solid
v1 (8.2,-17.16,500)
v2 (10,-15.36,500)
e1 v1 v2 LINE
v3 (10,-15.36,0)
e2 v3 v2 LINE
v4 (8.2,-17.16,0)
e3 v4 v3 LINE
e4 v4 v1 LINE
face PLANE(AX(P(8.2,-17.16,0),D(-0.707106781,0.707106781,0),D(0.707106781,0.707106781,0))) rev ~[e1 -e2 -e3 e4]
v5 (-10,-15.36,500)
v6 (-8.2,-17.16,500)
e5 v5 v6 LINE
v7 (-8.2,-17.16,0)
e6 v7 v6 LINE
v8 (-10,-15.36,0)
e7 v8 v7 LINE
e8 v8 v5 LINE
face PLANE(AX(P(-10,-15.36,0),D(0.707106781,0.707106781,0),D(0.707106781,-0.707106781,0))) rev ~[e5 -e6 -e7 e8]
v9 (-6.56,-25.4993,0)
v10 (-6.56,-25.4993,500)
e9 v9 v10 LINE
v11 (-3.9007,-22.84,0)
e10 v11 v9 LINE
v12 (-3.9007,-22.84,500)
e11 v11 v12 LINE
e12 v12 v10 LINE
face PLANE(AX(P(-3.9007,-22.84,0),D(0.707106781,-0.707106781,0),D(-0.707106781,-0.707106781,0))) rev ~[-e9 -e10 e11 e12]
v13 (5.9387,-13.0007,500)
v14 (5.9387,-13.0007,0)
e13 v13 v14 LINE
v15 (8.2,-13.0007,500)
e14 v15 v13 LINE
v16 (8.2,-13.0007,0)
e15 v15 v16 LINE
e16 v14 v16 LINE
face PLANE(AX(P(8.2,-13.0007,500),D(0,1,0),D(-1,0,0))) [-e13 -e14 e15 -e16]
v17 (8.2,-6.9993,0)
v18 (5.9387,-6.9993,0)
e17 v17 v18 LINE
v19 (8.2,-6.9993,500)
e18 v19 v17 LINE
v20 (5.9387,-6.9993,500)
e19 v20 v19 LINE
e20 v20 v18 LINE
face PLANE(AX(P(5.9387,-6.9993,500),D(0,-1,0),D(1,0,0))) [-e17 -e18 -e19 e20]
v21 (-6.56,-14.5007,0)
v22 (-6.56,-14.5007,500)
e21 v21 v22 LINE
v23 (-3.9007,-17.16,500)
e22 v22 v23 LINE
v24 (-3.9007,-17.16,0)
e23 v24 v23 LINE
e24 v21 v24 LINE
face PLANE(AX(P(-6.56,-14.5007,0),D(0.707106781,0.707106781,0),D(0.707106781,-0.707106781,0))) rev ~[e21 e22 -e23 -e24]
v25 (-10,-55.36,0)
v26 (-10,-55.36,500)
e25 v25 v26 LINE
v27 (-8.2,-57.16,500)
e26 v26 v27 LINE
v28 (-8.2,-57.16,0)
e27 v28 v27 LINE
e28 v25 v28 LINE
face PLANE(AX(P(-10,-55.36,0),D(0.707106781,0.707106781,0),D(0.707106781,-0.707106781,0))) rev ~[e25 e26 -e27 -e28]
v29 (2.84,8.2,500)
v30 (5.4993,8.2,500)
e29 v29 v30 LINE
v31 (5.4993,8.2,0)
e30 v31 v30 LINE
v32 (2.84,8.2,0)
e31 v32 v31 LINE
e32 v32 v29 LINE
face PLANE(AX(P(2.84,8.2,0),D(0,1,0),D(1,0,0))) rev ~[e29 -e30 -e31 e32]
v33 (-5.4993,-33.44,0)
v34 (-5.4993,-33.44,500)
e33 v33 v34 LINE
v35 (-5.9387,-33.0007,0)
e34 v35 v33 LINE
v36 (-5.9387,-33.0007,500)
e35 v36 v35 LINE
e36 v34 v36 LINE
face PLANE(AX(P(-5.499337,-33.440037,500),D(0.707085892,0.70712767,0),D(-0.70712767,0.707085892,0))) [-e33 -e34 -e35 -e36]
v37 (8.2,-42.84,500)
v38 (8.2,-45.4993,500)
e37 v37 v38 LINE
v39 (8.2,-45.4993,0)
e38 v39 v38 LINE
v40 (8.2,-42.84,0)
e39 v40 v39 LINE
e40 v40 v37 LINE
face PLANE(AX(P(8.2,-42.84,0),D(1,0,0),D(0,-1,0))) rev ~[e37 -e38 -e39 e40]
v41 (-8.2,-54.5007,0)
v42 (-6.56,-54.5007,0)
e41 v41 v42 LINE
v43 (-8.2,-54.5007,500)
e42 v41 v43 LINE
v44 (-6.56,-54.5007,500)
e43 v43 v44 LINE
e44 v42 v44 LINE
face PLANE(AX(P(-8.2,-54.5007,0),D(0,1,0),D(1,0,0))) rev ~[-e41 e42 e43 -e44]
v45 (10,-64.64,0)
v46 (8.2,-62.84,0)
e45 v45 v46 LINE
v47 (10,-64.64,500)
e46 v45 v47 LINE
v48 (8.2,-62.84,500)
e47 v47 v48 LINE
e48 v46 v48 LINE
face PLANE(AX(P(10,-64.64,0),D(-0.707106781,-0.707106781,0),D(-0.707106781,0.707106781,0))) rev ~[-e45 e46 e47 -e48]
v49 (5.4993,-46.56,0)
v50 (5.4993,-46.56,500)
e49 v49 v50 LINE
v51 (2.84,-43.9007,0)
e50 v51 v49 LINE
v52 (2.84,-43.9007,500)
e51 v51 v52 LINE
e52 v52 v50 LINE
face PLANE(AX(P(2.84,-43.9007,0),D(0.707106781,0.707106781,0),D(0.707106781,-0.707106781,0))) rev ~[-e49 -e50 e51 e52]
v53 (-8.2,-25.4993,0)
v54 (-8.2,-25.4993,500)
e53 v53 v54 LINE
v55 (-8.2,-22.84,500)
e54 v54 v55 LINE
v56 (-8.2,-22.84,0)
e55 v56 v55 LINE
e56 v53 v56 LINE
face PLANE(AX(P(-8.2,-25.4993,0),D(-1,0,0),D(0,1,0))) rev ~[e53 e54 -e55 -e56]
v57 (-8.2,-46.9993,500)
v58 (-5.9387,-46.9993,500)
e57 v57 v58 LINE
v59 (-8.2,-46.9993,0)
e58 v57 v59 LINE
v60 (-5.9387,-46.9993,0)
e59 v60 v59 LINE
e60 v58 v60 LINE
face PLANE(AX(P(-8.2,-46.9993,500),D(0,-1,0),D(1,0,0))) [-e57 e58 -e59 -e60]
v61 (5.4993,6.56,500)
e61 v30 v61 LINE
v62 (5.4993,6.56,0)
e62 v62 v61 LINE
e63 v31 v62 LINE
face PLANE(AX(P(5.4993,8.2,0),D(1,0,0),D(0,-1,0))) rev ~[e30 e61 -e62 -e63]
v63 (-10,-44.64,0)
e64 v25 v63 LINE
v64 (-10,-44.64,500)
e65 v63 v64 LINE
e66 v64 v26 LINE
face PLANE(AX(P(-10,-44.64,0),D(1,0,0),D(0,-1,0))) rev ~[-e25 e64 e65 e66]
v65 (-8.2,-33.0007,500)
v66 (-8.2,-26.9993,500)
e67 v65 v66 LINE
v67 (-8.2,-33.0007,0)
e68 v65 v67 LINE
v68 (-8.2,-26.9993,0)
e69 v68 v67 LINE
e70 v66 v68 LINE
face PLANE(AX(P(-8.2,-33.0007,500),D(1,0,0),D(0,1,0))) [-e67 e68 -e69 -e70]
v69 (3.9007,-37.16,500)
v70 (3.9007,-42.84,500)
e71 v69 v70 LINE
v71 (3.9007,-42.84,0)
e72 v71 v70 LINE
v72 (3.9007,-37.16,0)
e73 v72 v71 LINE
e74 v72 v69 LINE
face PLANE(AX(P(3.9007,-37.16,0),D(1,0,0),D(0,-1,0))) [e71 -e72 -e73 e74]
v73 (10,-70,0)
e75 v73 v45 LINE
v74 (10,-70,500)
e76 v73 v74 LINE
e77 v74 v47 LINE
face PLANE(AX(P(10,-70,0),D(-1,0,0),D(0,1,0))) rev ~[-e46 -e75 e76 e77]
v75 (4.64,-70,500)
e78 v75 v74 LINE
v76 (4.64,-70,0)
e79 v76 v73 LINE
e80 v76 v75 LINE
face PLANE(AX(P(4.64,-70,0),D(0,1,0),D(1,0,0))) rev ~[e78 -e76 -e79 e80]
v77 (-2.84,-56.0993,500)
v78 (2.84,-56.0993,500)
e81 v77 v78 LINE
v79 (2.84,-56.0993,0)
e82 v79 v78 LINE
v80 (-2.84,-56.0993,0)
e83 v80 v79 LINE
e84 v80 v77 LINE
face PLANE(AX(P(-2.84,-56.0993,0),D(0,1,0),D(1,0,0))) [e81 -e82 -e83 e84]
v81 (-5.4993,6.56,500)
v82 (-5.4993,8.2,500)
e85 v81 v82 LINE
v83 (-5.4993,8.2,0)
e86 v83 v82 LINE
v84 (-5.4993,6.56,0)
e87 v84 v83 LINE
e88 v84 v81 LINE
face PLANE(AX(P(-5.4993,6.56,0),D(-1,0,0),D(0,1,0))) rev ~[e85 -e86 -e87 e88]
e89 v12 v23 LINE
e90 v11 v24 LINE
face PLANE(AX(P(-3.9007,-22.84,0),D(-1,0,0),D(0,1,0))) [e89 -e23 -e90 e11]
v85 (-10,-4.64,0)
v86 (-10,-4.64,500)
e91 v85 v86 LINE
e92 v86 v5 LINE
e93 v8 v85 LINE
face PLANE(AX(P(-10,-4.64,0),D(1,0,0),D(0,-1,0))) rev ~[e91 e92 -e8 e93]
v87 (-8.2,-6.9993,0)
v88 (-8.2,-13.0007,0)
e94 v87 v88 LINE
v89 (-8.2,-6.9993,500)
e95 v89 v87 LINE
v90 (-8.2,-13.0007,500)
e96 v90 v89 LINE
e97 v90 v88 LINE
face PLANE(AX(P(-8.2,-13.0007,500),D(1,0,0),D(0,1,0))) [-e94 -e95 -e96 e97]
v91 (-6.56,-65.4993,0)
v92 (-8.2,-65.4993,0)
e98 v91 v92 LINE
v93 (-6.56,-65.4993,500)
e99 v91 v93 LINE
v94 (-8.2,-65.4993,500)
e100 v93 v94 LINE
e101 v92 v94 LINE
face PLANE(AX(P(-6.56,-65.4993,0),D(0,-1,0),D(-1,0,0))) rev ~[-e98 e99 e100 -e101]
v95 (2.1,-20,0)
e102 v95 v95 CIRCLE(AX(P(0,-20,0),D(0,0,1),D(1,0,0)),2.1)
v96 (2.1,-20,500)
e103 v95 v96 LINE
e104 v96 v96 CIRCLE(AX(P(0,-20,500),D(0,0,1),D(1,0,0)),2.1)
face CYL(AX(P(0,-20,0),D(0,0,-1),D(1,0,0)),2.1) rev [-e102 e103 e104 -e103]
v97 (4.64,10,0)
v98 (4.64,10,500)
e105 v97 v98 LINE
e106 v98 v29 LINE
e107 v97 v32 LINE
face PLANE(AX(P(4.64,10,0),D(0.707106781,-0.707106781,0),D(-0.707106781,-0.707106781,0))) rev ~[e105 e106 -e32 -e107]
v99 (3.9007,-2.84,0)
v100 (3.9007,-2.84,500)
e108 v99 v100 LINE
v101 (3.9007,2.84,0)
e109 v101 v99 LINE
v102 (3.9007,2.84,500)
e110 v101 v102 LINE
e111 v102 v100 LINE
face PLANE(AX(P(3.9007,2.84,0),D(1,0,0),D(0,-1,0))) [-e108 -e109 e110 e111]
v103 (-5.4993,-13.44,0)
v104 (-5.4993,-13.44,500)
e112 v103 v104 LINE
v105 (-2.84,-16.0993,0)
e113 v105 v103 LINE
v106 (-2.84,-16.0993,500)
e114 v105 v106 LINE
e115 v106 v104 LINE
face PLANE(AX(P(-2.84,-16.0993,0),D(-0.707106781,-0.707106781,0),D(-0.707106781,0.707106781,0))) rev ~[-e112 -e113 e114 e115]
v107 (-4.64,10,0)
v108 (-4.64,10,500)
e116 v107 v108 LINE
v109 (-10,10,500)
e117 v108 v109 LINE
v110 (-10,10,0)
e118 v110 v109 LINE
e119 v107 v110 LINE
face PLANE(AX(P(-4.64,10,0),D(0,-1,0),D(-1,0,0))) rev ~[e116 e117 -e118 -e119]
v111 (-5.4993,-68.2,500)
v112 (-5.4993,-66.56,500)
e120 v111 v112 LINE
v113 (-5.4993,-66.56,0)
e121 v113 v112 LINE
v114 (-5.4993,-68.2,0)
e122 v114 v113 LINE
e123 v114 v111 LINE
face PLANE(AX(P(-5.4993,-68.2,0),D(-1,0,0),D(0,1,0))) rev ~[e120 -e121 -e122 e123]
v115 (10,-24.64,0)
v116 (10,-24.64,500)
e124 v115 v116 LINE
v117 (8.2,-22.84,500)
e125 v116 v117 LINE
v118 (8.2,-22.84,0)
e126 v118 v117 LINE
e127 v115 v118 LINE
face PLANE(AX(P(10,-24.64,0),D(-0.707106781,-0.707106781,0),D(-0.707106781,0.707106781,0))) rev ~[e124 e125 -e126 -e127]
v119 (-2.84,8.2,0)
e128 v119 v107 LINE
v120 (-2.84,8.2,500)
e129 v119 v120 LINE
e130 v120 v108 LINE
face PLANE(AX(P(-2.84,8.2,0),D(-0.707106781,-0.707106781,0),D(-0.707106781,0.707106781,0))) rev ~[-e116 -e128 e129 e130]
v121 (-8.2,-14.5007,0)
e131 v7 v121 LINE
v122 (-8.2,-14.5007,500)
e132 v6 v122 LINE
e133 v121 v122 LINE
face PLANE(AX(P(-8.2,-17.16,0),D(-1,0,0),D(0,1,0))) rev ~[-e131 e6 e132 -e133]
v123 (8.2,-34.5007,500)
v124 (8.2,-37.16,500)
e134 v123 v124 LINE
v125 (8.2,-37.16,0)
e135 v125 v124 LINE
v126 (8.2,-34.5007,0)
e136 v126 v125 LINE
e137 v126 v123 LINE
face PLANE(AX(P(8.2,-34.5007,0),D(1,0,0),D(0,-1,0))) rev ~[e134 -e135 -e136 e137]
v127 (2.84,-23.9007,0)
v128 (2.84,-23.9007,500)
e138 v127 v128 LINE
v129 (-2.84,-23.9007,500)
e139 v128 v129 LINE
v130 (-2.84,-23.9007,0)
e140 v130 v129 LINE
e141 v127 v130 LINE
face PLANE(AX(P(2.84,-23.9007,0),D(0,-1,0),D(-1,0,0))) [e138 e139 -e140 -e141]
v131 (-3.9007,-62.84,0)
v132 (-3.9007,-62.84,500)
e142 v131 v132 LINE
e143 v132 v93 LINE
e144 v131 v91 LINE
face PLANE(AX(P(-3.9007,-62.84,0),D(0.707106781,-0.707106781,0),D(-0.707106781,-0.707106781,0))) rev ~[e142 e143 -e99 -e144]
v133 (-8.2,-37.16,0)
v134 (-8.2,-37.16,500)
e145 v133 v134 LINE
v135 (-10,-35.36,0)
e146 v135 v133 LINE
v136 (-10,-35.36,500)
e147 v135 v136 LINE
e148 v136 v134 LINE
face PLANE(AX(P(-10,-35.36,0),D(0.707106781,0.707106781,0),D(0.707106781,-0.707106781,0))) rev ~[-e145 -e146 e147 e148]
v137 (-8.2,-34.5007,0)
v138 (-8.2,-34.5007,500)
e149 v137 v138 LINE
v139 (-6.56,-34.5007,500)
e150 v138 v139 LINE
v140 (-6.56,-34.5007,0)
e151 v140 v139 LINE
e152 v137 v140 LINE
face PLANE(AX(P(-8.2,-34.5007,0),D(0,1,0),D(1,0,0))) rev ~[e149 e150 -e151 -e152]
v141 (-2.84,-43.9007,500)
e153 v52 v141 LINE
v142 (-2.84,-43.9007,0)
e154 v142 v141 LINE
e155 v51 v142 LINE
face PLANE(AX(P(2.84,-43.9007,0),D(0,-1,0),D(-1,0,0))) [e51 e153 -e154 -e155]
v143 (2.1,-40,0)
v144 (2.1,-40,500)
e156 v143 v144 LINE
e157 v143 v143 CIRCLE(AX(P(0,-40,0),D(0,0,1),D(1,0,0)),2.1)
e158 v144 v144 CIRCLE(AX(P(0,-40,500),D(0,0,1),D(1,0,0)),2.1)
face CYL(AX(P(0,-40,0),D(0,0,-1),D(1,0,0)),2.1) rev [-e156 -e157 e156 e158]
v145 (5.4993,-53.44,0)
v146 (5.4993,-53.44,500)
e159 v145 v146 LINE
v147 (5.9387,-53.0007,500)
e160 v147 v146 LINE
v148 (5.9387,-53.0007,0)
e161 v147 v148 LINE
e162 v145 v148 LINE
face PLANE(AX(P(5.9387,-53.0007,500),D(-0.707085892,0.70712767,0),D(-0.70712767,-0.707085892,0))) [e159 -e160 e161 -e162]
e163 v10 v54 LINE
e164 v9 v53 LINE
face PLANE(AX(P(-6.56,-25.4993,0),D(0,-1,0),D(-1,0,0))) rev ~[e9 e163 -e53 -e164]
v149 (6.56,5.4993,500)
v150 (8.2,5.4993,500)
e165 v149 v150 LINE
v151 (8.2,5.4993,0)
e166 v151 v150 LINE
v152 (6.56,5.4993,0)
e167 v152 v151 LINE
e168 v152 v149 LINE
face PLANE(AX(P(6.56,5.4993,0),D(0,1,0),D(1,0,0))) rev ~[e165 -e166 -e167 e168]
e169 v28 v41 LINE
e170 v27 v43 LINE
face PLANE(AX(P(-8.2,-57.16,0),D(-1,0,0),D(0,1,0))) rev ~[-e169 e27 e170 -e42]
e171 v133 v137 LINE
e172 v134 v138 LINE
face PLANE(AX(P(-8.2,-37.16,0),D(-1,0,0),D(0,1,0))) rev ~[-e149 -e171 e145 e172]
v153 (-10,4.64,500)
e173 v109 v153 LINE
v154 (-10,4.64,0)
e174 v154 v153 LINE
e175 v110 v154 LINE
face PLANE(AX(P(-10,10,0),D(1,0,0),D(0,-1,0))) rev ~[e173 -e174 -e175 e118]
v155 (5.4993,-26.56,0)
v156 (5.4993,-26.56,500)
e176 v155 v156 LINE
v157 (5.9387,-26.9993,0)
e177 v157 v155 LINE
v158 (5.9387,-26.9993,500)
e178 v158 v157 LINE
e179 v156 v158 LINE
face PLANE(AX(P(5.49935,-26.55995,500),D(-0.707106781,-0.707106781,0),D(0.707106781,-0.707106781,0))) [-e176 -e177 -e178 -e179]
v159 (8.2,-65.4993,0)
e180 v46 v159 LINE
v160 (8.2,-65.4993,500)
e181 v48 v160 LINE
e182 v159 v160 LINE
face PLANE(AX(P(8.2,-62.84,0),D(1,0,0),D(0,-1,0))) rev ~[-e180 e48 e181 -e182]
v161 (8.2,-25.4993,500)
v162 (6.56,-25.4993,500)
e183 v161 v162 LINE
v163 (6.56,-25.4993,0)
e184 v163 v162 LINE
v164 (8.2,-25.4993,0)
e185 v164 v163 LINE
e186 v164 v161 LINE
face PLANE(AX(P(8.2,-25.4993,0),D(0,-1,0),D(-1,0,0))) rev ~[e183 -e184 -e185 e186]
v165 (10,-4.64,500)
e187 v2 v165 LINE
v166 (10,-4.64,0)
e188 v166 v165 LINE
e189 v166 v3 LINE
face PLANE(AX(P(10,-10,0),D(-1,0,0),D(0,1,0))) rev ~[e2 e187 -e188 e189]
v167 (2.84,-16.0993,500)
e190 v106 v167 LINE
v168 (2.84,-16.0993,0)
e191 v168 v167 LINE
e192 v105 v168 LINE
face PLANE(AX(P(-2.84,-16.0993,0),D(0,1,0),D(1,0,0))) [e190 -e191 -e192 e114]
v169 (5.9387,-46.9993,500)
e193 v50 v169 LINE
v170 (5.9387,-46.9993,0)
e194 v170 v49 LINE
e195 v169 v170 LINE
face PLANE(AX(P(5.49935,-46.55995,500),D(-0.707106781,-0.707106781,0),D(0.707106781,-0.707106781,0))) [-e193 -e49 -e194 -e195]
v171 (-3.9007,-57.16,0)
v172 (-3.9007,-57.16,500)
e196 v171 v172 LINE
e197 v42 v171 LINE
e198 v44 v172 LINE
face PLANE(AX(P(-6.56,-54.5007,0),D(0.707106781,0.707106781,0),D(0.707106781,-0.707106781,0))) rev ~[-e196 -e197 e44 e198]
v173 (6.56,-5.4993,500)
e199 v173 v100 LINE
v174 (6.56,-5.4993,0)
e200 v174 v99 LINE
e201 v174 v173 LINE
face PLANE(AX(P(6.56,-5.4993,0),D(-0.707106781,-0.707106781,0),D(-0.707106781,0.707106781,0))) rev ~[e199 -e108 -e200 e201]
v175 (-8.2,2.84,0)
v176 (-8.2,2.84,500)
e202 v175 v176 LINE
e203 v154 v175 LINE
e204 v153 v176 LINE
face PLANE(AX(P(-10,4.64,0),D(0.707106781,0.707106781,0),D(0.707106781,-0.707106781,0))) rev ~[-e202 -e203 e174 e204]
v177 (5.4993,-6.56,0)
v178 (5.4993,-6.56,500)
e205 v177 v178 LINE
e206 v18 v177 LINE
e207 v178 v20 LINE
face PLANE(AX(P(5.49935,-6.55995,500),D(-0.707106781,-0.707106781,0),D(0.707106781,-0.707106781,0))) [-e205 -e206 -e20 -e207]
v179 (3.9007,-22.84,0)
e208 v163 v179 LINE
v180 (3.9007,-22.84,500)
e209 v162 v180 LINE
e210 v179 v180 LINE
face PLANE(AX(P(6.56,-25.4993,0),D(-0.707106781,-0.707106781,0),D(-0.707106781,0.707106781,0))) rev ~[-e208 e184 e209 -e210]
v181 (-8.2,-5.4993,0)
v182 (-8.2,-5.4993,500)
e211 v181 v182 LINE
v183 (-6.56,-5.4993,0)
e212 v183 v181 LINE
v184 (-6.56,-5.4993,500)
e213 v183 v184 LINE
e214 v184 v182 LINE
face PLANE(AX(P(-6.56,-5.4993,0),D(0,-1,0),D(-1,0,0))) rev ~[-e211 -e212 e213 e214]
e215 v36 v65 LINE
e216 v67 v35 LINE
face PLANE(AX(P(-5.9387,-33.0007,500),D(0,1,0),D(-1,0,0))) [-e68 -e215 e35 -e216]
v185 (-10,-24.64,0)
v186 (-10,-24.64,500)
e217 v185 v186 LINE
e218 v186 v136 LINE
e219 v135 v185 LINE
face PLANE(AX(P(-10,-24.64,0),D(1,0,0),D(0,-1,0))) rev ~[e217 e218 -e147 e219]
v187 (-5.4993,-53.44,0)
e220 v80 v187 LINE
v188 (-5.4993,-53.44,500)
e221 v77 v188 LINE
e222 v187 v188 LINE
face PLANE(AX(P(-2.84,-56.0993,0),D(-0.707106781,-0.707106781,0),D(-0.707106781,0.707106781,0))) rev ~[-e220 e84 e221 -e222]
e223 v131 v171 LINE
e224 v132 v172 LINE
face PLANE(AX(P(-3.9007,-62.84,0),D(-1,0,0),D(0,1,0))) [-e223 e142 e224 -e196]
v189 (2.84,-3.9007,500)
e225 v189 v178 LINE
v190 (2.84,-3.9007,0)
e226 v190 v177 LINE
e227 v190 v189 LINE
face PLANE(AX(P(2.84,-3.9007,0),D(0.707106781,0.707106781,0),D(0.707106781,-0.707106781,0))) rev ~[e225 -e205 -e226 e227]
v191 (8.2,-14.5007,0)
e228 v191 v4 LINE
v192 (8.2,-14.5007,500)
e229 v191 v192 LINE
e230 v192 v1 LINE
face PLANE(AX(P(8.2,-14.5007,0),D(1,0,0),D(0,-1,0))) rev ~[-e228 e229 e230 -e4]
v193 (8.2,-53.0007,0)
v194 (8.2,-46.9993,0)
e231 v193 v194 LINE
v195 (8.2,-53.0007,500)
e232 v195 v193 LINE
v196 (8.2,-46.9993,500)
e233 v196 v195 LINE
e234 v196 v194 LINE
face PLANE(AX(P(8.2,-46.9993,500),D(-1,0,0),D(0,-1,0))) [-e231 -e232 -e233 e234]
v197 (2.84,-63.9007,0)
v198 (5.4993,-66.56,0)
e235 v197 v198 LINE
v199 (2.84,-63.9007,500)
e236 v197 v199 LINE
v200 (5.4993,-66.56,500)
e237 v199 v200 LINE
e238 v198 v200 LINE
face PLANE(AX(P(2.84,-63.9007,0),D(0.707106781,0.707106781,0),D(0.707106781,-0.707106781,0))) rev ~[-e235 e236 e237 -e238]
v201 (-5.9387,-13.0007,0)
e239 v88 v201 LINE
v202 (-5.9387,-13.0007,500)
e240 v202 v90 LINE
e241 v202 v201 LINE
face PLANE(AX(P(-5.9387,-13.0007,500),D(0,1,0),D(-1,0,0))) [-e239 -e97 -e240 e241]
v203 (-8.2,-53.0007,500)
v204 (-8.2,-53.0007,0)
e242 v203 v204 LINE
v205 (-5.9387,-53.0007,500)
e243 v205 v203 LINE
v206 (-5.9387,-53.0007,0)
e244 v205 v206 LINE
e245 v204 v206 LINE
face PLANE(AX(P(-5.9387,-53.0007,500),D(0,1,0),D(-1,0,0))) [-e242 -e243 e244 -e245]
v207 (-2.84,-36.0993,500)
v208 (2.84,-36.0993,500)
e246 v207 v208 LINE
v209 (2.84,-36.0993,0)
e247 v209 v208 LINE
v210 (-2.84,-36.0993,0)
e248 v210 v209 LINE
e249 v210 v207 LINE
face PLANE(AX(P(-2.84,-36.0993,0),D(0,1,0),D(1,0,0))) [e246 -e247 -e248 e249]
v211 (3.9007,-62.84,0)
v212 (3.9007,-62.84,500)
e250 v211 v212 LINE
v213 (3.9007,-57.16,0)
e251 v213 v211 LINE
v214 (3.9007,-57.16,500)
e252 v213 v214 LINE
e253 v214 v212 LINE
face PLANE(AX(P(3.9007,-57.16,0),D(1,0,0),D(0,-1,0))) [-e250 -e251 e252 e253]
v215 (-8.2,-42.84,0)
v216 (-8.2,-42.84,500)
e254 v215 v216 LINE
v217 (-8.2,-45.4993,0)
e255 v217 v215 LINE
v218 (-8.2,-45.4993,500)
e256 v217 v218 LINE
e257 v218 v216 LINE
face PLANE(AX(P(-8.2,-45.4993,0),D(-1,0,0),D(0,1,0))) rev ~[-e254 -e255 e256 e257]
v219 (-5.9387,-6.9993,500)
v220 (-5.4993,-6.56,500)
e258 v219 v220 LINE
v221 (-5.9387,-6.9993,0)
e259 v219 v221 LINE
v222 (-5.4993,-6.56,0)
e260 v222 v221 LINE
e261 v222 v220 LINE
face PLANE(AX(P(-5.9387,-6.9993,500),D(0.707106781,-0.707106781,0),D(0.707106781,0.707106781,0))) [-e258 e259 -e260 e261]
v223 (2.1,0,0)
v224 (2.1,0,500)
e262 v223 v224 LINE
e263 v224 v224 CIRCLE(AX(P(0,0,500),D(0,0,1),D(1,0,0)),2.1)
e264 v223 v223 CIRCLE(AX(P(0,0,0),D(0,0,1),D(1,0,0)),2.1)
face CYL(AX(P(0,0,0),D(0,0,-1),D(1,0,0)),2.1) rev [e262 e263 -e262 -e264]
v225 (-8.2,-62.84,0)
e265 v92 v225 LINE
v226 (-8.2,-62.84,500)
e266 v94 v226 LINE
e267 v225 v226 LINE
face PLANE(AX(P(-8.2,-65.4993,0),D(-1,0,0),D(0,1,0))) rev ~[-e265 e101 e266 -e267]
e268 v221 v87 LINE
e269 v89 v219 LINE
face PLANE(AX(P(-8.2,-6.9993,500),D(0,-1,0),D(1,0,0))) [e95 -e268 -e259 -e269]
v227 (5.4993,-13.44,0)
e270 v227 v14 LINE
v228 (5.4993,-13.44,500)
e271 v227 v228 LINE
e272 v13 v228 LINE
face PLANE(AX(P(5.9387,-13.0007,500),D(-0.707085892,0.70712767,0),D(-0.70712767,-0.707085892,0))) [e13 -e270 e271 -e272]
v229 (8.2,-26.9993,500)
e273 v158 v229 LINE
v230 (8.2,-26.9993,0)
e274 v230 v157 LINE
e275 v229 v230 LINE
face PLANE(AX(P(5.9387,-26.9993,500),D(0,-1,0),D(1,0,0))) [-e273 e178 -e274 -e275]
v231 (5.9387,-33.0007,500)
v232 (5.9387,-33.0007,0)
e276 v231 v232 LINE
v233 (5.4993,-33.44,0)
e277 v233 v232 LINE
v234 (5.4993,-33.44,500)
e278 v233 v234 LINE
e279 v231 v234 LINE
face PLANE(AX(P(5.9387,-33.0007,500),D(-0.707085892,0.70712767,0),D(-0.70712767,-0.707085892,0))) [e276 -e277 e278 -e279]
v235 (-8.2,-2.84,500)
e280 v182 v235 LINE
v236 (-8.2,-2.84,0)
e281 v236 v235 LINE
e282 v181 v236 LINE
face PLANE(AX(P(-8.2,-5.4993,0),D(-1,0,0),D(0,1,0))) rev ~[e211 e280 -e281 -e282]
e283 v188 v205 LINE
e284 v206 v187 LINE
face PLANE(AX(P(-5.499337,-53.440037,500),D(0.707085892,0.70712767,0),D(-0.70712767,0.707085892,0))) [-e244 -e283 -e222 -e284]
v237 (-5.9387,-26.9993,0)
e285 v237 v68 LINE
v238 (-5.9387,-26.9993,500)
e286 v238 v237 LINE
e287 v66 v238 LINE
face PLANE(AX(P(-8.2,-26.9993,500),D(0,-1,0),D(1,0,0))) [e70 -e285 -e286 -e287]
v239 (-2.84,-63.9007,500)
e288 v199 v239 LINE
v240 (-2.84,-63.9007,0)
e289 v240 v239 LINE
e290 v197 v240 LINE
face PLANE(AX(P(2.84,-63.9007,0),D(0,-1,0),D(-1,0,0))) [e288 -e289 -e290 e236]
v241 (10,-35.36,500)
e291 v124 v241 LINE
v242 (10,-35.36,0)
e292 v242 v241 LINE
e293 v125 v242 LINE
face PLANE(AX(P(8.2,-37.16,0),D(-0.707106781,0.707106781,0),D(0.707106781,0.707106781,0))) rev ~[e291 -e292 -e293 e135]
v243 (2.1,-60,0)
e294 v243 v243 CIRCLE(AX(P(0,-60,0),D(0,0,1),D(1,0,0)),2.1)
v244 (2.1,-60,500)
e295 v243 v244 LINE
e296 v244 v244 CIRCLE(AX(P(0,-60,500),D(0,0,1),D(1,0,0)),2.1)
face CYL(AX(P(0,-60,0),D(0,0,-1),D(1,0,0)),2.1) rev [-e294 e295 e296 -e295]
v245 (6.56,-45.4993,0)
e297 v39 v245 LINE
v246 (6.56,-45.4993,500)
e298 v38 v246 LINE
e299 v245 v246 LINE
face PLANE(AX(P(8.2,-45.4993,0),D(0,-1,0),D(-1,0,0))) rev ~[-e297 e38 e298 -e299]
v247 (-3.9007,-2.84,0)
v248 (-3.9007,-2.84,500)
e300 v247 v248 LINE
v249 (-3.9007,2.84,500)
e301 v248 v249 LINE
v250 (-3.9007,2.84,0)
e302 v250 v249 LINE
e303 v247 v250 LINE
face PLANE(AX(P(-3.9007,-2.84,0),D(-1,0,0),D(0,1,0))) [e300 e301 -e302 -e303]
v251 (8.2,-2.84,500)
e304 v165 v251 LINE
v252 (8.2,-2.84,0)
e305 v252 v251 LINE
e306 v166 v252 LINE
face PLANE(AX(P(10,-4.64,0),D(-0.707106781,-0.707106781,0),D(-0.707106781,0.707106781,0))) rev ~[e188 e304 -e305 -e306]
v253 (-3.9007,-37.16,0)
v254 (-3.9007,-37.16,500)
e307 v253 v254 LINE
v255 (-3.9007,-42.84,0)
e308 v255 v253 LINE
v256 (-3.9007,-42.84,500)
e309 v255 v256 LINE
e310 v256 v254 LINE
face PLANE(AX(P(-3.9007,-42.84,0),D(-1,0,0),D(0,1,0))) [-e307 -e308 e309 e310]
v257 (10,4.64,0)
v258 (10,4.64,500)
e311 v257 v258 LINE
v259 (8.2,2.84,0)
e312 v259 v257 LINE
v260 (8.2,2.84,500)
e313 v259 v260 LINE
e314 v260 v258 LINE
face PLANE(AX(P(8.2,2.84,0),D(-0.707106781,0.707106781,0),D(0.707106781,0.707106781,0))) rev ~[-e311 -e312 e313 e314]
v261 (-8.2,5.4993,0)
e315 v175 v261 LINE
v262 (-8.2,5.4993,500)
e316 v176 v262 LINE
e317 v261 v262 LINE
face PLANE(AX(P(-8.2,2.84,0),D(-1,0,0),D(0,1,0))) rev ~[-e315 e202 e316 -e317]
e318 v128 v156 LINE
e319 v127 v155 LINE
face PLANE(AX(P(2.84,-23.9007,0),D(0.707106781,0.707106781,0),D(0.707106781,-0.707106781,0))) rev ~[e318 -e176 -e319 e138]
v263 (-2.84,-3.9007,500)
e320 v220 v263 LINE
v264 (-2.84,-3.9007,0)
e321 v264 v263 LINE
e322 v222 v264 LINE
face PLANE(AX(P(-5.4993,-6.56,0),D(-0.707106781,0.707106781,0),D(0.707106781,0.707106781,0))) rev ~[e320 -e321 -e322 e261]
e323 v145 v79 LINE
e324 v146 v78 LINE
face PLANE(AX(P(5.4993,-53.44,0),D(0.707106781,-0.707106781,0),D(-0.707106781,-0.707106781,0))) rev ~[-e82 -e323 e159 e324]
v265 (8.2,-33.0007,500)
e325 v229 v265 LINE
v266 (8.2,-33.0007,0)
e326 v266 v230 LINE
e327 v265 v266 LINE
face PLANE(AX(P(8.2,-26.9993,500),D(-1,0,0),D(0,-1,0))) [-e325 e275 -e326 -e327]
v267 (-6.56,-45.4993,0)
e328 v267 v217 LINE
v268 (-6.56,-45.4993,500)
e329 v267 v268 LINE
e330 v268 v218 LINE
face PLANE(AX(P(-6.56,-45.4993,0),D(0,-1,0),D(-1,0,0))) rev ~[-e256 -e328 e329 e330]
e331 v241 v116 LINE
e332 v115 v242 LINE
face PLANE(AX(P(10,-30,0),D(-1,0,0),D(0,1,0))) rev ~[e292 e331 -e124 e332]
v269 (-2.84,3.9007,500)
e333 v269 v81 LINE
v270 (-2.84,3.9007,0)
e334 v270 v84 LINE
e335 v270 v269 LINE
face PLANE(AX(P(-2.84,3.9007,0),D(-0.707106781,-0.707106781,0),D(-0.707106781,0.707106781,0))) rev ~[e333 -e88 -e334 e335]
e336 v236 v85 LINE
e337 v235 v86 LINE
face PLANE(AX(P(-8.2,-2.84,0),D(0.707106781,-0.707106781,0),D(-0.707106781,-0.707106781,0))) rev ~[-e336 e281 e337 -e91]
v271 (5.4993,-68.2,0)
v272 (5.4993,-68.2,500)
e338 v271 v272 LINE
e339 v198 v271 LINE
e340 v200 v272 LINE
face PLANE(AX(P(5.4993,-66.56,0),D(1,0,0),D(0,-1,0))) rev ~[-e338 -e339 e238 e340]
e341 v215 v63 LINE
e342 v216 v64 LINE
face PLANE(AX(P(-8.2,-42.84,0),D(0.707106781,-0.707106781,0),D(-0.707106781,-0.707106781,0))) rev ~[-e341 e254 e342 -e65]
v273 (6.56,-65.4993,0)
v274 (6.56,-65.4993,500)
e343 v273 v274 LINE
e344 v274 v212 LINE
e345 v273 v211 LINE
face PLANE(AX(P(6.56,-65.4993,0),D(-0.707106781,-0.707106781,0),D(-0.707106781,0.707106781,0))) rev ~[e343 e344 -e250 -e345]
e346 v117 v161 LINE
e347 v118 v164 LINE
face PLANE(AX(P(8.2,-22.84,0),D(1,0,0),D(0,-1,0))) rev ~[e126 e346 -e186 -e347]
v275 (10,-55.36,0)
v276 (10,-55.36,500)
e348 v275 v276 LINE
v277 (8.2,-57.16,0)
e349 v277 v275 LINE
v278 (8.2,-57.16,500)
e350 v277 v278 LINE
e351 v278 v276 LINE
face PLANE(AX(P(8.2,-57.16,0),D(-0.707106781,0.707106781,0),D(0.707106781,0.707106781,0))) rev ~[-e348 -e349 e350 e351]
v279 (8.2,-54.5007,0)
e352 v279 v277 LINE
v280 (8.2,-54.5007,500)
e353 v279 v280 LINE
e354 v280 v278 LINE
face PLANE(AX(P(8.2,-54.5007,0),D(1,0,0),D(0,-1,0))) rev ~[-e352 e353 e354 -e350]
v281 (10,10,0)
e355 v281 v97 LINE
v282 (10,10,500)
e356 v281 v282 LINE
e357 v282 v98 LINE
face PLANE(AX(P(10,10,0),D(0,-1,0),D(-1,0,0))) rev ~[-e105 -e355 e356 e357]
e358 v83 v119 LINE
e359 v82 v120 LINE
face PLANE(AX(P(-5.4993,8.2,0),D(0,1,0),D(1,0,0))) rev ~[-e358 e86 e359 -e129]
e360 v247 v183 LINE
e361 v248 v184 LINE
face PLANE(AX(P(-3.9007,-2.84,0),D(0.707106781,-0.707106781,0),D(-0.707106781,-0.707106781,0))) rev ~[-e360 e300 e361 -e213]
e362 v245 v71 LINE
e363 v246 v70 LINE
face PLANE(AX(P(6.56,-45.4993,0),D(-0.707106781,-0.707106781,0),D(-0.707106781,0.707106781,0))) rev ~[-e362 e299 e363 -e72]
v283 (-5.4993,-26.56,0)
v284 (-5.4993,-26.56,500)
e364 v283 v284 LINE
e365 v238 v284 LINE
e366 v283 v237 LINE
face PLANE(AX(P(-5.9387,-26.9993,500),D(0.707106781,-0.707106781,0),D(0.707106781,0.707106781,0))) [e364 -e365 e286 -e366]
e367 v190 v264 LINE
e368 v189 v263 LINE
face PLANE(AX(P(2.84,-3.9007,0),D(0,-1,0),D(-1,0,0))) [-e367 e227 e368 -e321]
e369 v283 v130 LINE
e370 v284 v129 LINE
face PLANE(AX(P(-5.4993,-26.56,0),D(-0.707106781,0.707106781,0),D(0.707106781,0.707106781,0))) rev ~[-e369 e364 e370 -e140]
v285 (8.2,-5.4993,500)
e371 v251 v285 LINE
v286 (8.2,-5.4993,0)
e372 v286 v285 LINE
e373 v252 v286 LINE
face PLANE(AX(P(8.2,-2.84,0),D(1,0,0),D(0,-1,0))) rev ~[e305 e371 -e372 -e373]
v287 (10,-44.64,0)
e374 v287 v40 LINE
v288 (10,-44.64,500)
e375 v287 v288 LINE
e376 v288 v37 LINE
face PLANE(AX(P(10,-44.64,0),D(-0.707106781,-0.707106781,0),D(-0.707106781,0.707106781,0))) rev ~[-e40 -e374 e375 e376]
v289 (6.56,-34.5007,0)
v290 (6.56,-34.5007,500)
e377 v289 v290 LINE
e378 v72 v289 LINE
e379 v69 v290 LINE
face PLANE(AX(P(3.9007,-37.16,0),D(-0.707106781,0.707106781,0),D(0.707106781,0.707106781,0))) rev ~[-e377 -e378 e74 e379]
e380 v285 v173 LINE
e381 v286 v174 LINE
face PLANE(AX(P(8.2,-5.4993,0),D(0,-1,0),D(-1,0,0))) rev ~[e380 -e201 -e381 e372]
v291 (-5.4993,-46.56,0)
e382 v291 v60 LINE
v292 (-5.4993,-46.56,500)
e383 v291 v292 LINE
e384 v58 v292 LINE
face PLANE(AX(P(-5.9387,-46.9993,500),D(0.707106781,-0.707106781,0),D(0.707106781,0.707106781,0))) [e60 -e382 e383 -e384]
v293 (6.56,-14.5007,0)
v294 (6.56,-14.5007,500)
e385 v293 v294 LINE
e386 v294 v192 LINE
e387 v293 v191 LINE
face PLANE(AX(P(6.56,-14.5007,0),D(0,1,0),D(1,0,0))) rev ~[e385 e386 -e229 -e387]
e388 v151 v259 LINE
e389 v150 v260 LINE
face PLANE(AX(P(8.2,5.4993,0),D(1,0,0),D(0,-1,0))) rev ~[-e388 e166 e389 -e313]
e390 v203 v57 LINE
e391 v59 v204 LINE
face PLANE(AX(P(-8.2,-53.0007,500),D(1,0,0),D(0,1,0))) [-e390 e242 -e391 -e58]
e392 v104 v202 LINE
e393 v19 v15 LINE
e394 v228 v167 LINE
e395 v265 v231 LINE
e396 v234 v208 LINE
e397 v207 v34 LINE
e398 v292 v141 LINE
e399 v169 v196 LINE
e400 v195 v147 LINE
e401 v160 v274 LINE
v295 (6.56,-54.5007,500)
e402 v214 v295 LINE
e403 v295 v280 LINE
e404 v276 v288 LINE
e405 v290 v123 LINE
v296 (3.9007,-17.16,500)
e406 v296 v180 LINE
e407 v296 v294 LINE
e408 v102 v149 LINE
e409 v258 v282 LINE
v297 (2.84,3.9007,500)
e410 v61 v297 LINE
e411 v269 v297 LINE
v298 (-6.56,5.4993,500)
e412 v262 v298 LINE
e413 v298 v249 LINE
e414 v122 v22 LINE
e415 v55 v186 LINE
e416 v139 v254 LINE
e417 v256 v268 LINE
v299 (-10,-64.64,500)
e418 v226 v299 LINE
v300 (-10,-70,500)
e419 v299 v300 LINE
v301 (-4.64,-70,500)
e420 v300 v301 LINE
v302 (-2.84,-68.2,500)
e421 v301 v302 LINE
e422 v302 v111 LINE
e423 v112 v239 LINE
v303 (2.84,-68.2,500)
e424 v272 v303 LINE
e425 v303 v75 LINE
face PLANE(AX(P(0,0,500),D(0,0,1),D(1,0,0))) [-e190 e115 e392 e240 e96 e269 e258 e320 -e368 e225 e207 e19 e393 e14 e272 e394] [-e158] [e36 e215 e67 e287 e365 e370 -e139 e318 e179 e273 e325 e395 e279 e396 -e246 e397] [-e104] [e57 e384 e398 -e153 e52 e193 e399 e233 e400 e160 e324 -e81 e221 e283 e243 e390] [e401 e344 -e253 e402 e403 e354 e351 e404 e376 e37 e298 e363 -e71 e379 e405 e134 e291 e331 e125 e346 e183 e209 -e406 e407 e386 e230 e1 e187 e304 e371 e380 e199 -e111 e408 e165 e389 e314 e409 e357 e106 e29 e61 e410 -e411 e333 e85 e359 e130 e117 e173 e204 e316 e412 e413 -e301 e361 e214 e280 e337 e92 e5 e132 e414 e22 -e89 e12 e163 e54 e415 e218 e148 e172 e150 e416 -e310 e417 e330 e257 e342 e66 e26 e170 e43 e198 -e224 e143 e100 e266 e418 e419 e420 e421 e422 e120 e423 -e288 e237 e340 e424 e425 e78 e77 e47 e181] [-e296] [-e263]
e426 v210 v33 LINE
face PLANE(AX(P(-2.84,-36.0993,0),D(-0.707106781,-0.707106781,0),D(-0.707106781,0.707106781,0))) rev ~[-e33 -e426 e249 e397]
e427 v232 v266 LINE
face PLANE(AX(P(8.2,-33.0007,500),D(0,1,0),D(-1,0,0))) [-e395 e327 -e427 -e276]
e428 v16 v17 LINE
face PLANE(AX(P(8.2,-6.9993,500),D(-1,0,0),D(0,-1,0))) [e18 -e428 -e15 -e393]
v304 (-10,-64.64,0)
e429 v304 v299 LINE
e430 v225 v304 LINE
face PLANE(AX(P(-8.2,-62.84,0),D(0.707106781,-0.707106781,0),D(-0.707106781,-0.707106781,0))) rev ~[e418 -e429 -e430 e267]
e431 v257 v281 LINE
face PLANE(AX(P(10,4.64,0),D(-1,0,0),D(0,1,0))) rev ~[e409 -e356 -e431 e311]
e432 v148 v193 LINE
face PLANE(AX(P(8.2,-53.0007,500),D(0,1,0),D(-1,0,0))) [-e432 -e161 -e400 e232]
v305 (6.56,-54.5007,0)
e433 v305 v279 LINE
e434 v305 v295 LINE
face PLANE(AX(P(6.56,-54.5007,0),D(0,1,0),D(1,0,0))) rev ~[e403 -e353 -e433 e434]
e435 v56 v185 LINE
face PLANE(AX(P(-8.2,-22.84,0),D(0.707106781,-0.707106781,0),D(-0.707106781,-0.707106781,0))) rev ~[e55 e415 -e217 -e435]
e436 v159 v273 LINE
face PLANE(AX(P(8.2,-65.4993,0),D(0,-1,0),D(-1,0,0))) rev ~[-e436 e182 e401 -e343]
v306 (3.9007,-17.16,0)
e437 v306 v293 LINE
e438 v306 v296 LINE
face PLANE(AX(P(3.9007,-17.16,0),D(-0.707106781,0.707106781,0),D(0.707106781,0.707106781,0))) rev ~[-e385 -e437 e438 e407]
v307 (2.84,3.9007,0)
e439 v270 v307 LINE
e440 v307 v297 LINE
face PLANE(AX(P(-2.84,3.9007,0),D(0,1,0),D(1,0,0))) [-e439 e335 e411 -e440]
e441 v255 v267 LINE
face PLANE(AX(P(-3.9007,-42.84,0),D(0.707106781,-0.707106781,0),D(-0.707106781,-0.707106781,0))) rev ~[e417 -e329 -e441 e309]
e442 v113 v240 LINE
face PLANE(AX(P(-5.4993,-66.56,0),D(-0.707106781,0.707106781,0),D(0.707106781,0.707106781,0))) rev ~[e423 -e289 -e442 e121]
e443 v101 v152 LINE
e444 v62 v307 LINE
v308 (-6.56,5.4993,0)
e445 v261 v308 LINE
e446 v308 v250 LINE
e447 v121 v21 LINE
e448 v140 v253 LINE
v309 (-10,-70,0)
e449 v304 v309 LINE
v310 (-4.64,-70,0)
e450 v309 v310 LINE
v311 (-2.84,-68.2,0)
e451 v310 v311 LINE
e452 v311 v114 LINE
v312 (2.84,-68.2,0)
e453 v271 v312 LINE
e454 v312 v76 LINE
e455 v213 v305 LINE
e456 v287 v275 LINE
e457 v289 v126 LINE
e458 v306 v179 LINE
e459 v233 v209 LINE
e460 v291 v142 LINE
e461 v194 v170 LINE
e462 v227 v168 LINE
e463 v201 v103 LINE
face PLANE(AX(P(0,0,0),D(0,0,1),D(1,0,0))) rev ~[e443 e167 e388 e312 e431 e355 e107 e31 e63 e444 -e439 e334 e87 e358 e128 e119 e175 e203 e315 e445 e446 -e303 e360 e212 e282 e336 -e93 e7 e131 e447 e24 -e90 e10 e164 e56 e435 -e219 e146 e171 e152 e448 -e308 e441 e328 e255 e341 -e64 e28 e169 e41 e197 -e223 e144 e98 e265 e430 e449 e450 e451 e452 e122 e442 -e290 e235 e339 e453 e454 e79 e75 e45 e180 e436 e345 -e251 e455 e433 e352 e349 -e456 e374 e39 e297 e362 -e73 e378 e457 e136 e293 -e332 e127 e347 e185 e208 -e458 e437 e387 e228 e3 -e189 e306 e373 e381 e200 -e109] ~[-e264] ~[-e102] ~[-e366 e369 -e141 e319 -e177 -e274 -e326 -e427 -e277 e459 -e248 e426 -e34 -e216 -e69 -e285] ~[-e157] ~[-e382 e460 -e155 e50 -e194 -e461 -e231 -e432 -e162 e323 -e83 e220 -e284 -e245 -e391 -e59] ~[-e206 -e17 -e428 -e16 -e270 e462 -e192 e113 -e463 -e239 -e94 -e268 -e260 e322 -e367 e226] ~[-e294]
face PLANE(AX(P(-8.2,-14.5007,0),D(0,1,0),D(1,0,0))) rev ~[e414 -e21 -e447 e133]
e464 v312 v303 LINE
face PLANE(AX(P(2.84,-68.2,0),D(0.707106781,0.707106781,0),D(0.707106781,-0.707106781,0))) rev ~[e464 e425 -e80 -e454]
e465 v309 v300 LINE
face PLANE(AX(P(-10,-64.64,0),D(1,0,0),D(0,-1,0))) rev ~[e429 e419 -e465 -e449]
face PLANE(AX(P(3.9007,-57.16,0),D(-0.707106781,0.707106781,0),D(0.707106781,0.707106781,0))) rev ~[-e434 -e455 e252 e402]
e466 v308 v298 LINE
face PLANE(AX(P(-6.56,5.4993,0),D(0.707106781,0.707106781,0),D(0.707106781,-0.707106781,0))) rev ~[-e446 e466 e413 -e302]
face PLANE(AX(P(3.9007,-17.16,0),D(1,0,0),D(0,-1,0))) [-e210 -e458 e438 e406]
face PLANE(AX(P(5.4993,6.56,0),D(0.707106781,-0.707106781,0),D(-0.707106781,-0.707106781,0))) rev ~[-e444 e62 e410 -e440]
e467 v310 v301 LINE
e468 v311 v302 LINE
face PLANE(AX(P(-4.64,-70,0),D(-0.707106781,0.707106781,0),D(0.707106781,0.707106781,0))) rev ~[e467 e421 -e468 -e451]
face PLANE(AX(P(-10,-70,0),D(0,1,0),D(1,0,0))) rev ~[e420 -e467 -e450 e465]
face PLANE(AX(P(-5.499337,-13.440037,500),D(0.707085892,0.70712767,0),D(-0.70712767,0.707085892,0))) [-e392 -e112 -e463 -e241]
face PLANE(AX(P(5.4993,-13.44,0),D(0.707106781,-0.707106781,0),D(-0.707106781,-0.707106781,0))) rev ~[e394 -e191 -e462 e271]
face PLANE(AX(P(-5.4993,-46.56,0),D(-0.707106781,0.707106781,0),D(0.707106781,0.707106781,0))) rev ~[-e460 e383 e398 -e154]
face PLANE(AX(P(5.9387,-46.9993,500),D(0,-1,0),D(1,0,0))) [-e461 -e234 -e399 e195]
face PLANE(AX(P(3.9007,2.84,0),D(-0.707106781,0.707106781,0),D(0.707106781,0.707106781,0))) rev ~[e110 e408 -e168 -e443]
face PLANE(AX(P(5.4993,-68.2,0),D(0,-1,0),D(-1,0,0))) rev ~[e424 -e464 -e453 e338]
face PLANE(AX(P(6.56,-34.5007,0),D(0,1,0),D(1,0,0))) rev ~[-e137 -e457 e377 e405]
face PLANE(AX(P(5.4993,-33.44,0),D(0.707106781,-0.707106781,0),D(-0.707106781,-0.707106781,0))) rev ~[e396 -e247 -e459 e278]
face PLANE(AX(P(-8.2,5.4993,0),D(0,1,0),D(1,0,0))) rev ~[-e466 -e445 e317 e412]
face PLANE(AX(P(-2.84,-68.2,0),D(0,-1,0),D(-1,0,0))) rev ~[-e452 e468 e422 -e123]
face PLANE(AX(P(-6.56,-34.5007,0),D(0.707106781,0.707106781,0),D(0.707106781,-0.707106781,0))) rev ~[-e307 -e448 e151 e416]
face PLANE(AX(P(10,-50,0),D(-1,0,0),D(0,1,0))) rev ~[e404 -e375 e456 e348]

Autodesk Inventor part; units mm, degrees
ref_plane "YZ Plane" through (0, 0, 0) normal (1, 0, 0) x (0, 1, 0)
ref_plane "XZ Plane" through (0, 0, 0) normal (0, 1, 0) x (-1, 0, 0)
ref_plane "XY Plane" through (0, 0, 0) normal (0, 0, 1) x (1, 0, 0)
sketch "Sketch1" plane through (0, 0, 0) normal (0, 0, 1) x (1, 0, 0)
  line L0 (-3.9007, 3.9007) -> (3.9007, 3.9007)
  line L1 (3.9007, 3.9007) -> (3.9007, -3.9007)
  line L2 (3.9007, -3.9007) -> (-3.9007, -3.9007)
  line L3 (-3.9007, -3.9007) -> (-3.9007, 3.9007)
  line L4 (0, 3.9007) -> (0, -3.9007) construction
  line L5 (-3.9007, 0) -> (3.9007, 0) construction
  circle A0 centre (0, 0) radius 2.1
  line L6 (0, 0) -> (-16.1173, 16.1173) construction
  line L7 (0, 0) -> (22.7933, 0) construction
  line L8 (-2.84, 3.9007) -> (-5.4993, 6.56)
  line L9 (-5.4993, 6.56) -> (-5.4993, 8.2)
  line L10 (-5.4993, 8.2) -> (-2.84, 8.2)
  line L11 (-2.84, 8.2) -> (-4.64, 10)
  line L12 (-4.64, 10) -> (-10, 10)
  line L13 (-10, 10) -> (-10, 4.64)
  line L14 (-10, 4.64) -> (-8.2, 2.84)
  line L15 (-8.2, 2.84) -> (-8.2, 5.4993)
  line L16 (-8.2, 5.4993) -> (-6.56, 5.4993)
  line L17 (-6.56, 5.4993) -> (-3.9007, 2.84)
  line L18 (-3.9007, 2.84) -> (-11.3102, 2.84) construction
  line L19 (-2.84, 3.9007) -> (-3.9007, 3.9007)
  line L20 (-3.9007, 2.84) -> (-3.9007, 3.9007)
  line L21 (-3.9007, -2.84) -> (-6.56, -5.4993)
  line L22 (-6.56, -5.4993) -> (-8.2, -5.4993)
  line L23 (-8.2, -5.4993) -> (-8.2, -2.84)
  line L24 (-8.2, -2.84) -> (-10, -4.64)
  line L25 (-10, -4.64) -> (-10, -10)
  line L26 (-10, -10) -> (-4.64, -10)
  line L27 (-4.64, -10) -> (-2.84, -8.2)
  line L28 (-2.84, -8.2) -> (-5.4993, -8.2)
  line L29 (-5.4993, -8.2) -> (-5.4993, -6.56)
  line L30 (-5.4993, -6.56) -> (-2.84, -3.9007)
  line L31 (-3.9007, -2.84) -> (-3.9007, -3.9007)
  line L32 (-2.84, -3.9007) -> (-3.9007, -3.9007)
  line L33 (2.84, -3.9007) -> (5.4993, -6.56)
  line L34 (5.4993, -6.56) -> (5.4993, -8.2)
  line L35 (5.4993, -8.2) -> (2.84, -8.2)
  line L36 (2.84, -8.2) -> (4.64, -10)
  line L37 (4.64, -10) -> (10, -10)
  line L38 (10, -10) -> (10, -4.64)
  line L39 (10, -4.64) -> (8.2, -2.84)
  line L40 (8.2, -2.84) -> (8.2, -5.4993)
  line L41 (8.2, -5.4993) -> (6.56, -5.4993)
  line L42 (6.56, -5.4993) -> (3.9007, -2.84)
  line L43 (2.84, -3.9007) -> (3.9007, -3.9007)
  line L44 (3.9007, -2.84) -> (3.9007, -3.9007)
  line L45 (3.9007, 2.84) -> (6.56, 5.4993)
  line L46 (6.56, 5.4993) -> (8.2, 5.4993)
  line L47 (8.2, 5.4993) -> (8.2, 2.84)
  line L48 (8.2, 2.84) -> (10, 4.64)
  line L49 (10, 4.64) -> (10, 10)
  line L50 (10, 10) -> (4.64, 10)
  line L51 (4.64, 10) -> (2.84, 8.2)
  line L52 (2.84, 8.2) -> (5.4993, 8.2)
  line L53 (5.4993, 8.2) -> (5.4993, 6.56)
  line L54 (5.4993, 6.56) -> (2.84, 3.9007)
  line L55 (3.9007, 2.84) -> (3.9007, 3.9007)
  line L56 (2.84, 3.9007) -> (3.9007, 3.9007)
  dimension "d7" = 4.2
  dimension "d8" = 135
  dimension "d9" = 1.5
  dimension "d10" = 1.64
  dimension "d11" = 1.8
  dimension "d12" = 2.84
  dimension "d13" = 10
  dimension "d16" = 360
extrude "Extrusion1" add sketch "Sketch1" along normal blind 500
pattern_linear "Rectangular Pattern1" count 4 spacing 20 along (0, -1, 0) of "Extrusion1"
sketch "Sketch2" plane through (0, 0, 500) normal (0, 0, 1) x (1, 0, 0)
  line L0 (8.2, -2.84) -> (8.2, -5.4993) projected
  line L1 (8.2, -5.4993) -> (6.56, -5.4993) projected
  line L2 (-6.56, -5.4993) -> (-8.2, -5.4993) projected
  line L3 (-8.2, -5.4993) -> (-8.2, -2.84) projected
  line L4 (-8.2, -14.5007) -> (-6.56, -14.5007) projected
  line L5 (6.56, -14.5007) -> (8.2, -14.5007) projected
  line L6 (5.4993, -11.8) -> (5.4993, -13.44) projected
  line L7 (5.4993, -13.44) -> (2.84, -16.0993) projected
  line L8 (-2.84, -16.0993) -> (-5.4993, -13.44) projected
  line L9 (-5.4993, -8.2) -> (-5.4993, -6.56) projected
  line L10 (-5.4993, -6.56) -> (-2.84, -3.9007) projected
  line L11 (2.84, -3.9007) -> (5.4993, -6.56) projected
  line L12 (2.84, -8.2) -> (4.64, -10) projected
  line L13 (-8.2, -6.9993) -> (-5.9387, -6.9993)
  line L14 (-5.9387, -6.9993) -> (-4.1231, -5.1837)
  line L15 (-4.1231, -5.1837) -> (4.1231, -5.1837)
  line L16 (4.1231, -5.1837) -> (5.9387, -6.9993)
  line L17 (5.9387, -6.9993) -> (8.2, -6.9993)
  line L18 (8.2, -6.9993) -> (8.2, -13.0007)
  line L19 (8.2, -13.0007) -> (5.9387, -13.0007)
  line L20 (5.9387, -13.0007) -> (4.2461, -14.6932)
  line L21 (4.2461, -14.6932) -> (-4.2461, -14.6932)
  line L22 (-4.2461, -14.6932) -> (-5.9387, -13.0007)
  line L23 (-5.9387, -13.0007) -> (-8.2, -13.0007)
  line L24 (-8.2, -13.0007) -> (-8.2, -6.9993)
  dimension "d23" = 1.5
  dimension "d24" = 1.5
  dimension "d25" = 1.5
  dimension "d26" = 1.5
extrude "Extrusion2" cut sketch "Sketch2" against normal up to next
pattern_linear "Rectangular Pattern2" count 3 spacing 20 along (0, -1, 0) of "Extrusion2"
equation "\"d24\" = d23"
equation "\"d25\" = d23"
equation "\"d26\" = d23"
properties part number "20x80x500mm"
